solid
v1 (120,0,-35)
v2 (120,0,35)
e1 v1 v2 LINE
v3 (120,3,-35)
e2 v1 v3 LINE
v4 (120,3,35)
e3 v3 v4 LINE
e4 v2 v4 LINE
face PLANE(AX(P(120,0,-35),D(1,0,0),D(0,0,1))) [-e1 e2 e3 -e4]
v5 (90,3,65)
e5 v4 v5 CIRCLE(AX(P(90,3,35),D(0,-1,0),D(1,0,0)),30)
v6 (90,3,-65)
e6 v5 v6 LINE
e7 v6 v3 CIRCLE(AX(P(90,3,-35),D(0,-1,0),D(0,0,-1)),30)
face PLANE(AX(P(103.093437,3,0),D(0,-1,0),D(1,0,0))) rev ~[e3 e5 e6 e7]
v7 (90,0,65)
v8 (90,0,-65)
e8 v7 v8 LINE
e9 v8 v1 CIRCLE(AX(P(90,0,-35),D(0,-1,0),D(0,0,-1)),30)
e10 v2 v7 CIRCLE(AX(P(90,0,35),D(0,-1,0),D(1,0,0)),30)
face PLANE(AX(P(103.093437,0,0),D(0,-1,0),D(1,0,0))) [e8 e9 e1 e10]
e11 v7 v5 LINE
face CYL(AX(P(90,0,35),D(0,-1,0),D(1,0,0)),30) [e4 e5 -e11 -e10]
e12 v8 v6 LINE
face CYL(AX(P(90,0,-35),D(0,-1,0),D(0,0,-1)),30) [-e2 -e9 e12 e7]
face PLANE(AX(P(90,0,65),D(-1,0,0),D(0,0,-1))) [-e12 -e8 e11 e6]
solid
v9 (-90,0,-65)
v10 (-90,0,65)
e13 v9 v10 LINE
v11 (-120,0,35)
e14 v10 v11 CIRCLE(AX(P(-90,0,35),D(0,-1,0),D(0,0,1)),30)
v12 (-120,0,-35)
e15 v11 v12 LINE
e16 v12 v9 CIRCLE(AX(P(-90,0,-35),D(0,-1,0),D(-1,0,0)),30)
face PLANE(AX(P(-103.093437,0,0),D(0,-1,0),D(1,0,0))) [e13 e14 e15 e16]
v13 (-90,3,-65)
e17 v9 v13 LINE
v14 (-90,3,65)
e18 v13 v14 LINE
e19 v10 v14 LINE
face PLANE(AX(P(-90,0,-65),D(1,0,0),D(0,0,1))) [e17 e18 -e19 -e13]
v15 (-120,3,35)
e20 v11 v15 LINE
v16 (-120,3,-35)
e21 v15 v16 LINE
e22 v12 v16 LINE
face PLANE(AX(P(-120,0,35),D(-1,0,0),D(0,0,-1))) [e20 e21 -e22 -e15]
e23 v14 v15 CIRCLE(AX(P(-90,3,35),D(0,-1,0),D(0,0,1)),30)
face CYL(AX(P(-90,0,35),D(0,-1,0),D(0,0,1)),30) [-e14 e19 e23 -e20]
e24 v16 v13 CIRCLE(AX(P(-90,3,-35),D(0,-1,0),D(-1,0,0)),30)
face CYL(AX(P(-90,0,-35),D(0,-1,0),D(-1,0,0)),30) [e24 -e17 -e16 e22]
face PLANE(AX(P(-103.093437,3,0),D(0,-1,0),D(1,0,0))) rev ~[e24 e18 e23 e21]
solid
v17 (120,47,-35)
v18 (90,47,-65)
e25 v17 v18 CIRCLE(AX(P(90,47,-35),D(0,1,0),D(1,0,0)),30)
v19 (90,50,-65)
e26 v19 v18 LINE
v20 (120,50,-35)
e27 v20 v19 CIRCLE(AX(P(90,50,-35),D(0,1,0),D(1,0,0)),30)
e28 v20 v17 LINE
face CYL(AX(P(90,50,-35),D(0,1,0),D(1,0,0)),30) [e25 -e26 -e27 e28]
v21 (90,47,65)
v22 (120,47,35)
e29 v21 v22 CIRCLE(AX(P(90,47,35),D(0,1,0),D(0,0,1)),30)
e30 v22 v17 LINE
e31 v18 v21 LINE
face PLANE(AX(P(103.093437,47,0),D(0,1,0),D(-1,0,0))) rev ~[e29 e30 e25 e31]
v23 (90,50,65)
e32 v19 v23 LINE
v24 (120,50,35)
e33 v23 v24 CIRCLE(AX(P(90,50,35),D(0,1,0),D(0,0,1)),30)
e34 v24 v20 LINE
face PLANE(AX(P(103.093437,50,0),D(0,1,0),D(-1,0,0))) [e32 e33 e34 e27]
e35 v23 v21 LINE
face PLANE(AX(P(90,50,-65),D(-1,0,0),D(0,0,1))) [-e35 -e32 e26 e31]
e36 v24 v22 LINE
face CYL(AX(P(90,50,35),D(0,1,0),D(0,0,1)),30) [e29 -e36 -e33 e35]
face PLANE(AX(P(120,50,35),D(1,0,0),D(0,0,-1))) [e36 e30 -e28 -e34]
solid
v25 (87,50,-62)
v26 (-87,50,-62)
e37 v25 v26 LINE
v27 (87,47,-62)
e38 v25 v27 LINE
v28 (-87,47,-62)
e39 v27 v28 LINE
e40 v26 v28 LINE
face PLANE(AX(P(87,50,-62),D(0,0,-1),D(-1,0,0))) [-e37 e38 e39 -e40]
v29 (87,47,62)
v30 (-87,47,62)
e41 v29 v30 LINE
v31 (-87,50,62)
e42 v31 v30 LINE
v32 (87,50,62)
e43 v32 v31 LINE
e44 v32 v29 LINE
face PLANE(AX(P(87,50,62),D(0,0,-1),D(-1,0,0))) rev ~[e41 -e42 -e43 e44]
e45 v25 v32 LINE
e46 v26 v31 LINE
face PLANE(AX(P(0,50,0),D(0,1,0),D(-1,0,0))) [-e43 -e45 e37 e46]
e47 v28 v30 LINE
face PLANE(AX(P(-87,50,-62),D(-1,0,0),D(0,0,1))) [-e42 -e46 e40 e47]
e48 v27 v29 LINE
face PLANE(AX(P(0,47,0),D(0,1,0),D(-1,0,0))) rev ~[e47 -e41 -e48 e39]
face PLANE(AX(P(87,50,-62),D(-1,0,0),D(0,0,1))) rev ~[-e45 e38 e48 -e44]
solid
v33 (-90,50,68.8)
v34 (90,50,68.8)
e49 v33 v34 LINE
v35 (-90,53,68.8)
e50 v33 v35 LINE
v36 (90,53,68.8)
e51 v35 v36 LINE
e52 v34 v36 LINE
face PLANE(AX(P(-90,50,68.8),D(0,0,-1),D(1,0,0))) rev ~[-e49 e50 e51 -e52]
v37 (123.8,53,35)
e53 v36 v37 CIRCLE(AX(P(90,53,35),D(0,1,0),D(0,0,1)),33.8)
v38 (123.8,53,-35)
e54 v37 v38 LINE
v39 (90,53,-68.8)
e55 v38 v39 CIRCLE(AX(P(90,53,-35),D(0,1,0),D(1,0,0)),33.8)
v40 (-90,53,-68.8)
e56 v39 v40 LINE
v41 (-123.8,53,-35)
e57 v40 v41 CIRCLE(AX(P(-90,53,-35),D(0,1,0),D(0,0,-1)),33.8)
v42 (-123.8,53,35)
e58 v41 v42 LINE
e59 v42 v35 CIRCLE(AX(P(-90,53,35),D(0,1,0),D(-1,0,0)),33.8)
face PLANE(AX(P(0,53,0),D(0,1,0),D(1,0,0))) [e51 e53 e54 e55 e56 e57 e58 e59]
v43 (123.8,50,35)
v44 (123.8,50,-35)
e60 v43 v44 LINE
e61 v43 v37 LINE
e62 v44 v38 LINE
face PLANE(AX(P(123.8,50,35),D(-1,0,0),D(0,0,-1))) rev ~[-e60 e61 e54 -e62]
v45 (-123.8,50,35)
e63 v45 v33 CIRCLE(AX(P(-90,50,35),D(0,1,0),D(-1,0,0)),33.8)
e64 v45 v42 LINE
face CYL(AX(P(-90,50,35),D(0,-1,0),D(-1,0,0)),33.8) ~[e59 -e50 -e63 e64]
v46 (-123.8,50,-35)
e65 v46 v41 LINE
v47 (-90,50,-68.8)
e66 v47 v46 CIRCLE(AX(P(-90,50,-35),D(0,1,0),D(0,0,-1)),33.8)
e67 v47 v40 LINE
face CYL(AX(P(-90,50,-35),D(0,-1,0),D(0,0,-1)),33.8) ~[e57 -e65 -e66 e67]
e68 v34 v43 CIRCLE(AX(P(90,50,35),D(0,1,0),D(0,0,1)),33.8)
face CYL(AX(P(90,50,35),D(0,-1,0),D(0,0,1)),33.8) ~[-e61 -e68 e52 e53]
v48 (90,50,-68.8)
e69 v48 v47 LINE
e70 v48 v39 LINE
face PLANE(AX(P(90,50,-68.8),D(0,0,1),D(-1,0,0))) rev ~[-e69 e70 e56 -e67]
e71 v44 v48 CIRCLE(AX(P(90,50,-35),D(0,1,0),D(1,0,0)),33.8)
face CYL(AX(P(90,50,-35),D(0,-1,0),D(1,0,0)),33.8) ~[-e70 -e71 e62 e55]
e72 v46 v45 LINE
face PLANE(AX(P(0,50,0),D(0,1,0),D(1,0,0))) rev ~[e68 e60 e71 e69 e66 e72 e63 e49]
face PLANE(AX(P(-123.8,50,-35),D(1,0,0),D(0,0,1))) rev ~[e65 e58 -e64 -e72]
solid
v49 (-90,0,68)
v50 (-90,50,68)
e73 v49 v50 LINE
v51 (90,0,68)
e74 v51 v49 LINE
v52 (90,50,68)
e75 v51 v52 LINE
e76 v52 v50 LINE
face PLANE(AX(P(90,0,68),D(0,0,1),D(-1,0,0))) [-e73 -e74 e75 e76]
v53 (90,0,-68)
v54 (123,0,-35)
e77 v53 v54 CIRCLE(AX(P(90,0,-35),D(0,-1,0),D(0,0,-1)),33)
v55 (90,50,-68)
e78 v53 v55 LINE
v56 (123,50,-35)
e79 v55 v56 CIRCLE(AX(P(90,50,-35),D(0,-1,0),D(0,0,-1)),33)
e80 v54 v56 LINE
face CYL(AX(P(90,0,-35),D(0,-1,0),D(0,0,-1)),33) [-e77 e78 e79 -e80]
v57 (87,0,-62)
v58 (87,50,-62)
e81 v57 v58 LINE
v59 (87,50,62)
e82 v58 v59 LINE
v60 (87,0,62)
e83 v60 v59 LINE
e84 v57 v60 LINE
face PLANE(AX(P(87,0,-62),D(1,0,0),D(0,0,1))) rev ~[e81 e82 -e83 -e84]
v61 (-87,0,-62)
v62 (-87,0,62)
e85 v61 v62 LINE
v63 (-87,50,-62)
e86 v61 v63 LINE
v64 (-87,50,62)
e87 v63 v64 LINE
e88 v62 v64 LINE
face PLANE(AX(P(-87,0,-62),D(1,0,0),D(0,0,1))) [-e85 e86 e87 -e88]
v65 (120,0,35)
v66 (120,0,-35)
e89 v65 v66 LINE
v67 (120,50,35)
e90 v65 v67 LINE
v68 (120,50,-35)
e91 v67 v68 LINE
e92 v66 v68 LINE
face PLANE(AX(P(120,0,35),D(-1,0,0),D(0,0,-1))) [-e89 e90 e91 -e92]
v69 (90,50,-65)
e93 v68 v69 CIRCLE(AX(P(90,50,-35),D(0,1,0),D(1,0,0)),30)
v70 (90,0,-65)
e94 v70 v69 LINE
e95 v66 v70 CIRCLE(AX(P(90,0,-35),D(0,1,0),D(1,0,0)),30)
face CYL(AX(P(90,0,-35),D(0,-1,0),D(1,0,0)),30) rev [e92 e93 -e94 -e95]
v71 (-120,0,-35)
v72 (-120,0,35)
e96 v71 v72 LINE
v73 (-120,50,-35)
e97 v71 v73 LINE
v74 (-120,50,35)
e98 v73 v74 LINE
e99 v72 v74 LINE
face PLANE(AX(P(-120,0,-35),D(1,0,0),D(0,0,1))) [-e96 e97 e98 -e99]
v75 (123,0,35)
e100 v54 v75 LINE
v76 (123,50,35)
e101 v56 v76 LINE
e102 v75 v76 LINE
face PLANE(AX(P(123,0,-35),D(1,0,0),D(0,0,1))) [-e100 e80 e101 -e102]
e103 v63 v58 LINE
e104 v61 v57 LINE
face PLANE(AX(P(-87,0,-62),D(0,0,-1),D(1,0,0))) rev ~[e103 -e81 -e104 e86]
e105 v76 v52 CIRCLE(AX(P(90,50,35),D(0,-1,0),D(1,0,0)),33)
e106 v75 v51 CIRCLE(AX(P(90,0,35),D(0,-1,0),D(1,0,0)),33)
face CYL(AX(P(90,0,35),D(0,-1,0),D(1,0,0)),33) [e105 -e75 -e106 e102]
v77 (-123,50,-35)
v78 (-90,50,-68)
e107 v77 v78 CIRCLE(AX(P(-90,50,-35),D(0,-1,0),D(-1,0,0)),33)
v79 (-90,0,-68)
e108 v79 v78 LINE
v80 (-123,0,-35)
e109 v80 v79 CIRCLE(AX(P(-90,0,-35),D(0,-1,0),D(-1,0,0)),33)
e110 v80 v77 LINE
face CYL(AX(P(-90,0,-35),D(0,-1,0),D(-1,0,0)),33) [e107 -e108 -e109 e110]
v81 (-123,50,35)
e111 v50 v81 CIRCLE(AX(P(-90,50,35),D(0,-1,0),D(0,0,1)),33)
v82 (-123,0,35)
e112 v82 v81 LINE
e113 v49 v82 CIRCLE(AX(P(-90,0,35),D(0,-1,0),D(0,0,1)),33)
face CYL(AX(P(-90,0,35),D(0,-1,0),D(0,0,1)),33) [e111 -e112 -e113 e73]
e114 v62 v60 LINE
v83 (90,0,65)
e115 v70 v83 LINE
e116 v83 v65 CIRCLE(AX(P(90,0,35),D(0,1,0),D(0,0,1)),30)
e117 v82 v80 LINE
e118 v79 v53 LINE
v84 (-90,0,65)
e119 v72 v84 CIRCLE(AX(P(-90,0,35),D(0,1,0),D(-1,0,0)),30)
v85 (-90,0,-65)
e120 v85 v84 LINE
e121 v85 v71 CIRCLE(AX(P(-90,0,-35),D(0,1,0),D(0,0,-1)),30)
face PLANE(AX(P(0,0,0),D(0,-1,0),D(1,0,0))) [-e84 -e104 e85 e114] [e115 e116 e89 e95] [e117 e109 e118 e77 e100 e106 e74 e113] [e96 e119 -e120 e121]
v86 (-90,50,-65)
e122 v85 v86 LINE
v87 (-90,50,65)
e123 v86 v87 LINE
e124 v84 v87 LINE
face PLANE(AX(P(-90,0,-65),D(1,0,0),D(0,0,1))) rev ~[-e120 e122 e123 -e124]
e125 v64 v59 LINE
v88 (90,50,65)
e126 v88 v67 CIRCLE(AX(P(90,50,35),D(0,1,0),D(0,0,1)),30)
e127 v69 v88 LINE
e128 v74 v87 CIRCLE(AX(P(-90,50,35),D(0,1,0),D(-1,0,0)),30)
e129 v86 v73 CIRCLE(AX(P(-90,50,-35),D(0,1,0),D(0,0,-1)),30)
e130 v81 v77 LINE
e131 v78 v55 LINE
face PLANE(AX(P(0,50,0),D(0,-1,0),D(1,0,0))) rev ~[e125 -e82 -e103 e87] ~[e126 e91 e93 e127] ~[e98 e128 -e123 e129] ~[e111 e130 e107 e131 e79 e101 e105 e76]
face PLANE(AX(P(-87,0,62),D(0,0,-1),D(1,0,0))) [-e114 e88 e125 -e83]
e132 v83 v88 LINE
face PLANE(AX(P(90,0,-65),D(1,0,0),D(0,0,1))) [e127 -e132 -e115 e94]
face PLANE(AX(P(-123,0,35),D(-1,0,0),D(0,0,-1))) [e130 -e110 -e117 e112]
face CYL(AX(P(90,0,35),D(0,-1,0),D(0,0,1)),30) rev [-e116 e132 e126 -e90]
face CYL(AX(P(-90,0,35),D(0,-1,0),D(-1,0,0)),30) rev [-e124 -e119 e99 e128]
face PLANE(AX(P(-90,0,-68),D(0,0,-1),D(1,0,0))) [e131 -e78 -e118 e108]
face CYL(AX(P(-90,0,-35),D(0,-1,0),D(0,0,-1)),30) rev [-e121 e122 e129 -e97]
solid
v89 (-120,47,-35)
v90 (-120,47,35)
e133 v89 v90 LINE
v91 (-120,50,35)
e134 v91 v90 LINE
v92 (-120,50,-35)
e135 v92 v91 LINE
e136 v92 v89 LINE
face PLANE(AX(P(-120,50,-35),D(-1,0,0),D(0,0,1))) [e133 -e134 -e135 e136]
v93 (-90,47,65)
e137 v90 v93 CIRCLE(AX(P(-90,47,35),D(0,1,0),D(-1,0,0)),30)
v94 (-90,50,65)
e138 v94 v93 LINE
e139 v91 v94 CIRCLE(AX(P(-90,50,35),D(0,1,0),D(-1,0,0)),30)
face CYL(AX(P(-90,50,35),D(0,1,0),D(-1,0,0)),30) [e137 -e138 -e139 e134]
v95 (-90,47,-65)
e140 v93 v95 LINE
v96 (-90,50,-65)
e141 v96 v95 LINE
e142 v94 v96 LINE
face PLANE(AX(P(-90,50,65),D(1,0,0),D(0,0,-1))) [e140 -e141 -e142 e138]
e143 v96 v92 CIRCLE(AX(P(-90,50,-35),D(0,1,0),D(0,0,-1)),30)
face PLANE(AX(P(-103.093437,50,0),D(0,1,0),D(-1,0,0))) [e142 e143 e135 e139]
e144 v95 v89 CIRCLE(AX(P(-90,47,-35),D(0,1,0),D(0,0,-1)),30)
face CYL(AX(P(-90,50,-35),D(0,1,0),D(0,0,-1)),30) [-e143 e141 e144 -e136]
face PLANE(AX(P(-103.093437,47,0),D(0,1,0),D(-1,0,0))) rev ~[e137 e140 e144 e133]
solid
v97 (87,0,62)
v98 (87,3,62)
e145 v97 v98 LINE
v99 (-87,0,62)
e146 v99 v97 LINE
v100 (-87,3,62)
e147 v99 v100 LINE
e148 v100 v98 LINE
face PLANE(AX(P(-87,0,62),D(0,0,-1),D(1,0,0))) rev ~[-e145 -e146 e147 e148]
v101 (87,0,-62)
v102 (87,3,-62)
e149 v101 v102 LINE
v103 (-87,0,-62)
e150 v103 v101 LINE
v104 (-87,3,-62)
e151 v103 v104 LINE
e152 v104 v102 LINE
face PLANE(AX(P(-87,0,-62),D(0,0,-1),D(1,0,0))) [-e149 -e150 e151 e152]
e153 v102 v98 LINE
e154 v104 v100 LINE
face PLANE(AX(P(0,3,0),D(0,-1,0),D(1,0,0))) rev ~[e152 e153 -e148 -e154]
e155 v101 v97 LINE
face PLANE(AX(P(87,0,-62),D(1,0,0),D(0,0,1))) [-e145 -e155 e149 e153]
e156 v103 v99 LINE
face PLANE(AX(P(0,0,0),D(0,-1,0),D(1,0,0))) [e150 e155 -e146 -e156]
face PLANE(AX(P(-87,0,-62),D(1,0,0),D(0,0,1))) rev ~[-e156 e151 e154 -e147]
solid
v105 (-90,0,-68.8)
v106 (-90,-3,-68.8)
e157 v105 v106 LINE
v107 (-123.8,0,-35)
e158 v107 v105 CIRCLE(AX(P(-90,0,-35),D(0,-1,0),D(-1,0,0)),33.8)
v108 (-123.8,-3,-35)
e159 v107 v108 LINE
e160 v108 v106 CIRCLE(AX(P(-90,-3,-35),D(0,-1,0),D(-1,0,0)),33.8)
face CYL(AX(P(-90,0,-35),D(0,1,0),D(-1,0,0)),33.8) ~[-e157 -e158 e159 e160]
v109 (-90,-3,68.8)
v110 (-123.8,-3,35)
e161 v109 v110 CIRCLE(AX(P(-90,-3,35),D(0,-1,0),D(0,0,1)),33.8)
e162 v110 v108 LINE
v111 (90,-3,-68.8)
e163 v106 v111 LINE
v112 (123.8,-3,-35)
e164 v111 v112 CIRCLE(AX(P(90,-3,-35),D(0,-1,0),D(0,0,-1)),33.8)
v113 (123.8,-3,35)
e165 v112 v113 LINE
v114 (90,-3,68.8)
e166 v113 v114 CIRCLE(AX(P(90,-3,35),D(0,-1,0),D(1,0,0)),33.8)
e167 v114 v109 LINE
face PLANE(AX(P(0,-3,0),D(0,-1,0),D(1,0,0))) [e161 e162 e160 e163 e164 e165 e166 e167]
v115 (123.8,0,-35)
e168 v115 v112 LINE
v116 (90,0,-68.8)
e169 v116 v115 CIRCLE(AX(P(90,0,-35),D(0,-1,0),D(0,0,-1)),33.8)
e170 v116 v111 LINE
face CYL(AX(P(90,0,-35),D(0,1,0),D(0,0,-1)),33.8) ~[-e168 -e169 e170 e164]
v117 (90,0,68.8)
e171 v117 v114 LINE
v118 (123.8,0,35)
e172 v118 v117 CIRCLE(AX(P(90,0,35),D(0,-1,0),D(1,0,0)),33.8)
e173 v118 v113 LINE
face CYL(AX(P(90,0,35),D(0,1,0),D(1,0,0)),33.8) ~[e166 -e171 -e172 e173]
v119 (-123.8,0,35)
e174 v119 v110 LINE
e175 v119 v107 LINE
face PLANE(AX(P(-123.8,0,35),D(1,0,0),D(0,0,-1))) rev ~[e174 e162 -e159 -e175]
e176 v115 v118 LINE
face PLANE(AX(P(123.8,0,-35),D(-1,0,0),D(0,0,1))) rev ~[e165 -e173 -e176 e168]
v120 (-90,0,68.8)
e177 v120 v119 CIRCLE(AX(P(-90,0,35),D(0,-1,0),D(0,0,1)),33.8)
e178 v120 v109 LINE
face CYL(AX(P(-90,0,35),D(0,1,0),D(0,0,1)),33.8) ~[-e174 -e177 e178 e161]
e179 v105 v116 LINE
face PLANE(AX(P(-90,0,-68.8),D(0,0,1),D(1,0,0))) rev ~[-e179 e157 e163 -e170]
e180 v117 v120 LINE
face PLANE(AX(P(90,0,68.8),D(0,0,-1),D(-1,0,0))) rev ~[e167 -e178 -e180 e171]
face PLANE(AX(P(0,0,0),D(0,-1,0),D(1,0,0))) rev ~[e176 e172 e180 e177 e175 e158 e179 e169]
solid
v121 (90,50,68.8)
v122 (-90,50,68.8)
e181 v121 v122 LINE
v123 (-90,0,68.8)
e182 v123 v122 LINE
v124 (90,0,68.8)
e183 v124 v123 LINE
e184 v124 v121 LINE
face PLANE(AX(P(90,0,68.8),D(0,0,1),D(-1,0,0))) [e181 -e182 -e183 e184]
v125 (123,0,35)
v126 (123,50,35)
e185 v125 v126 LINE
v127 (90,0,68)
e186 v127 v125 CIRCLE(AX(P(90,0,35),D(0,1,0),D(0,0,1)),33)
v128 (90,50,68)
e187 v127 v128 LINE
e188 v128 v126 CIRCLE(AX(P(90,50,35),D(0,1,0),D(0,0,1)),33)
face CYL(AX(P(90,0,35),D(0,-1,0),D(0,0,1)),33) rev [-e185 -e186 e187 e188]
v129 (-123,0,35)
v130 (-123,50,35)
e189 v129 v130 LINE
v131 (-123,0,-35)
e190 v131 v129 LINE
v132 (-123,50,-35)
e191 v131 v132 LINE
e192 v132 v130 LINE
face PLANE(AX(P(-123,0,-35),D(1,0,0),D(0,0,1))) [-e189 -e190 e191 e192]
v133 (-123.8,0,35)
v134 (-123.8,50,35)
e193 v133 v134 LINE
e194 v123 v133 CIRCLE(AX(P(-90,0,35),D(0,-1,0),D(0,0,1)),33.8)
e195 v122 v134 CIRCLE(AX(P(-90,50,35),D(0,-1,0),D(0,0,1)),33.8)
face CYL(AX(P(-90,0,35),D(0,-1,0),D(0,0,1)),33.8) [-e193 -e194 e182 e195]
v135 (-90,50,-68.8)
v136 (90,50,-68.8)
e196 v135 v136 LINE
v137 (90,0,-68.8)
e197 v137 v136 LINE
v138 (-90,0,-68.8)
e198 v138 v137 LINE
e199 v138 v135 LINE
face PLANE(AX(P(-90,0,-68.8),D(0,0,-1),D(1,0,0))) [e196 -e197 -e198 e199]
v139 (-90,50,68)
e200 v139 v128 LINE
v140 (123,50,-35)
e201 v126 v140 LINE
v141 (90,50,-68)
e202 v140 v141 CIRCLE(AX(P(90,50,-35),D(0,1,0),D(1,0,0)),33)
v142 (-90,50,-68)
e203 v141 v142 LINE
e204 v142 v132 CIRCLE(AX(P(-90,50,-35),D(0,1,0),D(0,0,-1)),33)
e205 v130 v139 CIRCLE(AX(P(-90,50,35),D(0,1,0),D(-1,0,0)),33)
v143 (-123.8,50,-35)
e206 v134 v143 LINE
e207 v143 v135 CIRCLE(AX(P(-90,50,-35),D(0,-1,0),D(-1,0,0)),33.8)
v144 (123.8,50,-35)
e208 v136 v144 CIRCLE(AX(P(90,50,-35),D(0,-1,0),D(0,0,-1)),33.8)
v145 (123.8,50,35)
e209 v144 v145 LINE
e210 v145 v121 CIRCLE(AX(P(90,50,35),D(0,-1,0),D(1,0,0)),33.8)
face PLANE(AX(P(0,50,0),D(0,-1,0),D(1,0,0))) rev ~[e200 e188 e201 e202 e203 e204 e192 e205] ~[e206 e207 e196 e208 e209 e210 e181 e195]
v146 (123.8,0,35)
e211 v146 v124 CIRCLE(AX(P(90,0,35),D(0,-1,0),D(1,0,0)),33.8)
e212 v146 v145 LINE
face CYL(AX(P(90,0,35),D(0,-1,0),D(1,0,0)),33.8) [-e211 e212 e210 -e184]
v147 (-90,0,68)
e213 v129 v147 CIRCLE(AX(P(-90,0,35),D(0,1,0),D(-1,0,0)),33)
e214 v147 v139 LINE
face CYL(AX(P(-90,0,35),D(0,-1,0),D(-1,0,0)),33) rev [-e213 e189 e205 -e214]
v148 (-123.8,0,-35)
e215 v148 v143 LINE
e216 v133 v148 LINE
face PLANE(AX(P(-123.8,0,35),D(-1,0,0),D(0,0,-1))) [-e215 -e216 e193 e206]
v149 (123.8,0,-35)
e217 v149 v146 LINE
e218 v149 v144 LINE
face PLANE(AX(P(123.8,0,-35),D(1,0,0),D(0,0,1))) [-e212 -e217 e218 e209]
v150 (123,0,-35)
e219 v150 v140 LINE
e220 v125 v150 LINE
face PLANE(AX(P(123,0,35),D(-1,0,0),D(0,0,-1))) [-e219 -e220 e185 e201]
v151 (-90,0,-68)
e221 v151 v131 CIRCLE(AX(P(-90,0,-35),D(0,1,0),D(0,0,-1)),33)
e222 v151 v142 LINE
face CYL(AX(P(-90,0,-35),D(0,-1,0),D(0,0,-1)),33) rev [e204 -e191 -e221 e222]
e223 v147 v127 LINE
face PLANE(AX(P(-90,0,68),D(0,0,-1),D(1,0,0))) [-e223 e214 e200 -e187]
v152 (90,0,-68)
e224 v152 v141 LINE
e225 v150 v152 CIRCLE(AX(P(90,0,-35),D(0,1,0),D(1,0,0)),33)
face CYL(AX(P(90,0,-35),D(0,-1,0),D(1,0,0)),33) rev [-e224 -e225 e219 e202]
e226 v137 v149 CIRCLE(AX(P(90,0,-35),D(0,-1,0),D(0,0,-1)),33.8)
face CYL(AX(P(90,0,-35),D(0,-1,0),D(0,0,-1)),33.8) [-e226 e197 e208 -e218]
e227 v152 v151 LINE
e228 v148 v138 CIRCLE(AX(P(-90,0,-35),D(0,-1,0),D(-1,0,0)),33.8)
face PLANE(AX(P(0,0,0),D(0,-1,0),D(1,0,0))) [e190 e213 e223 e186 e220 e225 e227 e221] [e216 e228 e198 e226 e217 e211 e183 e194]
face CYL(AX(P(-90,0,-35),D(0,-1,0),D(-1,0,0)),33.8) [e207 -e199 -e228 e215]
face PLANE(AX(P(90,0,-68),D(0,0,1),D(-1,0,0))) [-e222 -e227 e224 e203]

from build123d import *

# Parameters (mm, degrees)
F0_W     = 180
F0_H     = 130
F0_W_2   = 174
F0_H_2   = 124
F1_DEPTH = 50
F2_DEPTH = 3
F3_DEPTH = 3
F4_DEPTH = 50
F5_W     = 174
F5_H     = 124
F6_DEPTH = 3
F7_DEPTH = 3


with BuildPart() as f1:
    # F0 (on Front) → F1 (new body)
    with BuildSketch(Plane.XZ):
        with BuildLine():
            ThreePointArc((-90, 68), (-113.3345237792, 58.3345237792), (-123, 35))
            Line((-123, 35), (-123, -35))
            ThreePointArc((-123, -35), (-113.3345237792, -58.3345237792), (-90, -68))
            Line((-90, -68), (90, -68))
            ThreePointArc((90, -68), (113.3345237792, -58.3345237792), (123, -35))
            Line((123, -35), (123, 35))
            ThreePointArc((123, 35), (113.3345237792, 58.3345237792), (90, 68))
            Line((90, 68), (-90, 68))
        make_face()
        with BuildLine():
            Line((-90, 65), (90, 65))
            ThreePointArc((90, 65), (111.2132034356, 56.2132034356), (120, 35))
            Line((120, 35), (120, -35))
            ThreePointArc((120, -35), (111.2132034356, -56.2132034356), (90, -65))
            Line((90, -65), (-90, -65))
            ThreePointArc((-90, -65), (-111.2132034356, -56.2132034356), (-120, -35))
            Line((-120, -35), (-120, 35))
            ThreePointArc((-120, 35), (-111.2132034356, 56.2132034356), (-90, 65))
        make_face(mode=Mode.SUBTRACT)
        Rectangle(F0_W, F0_H)
        Rectangle(F0_W_2, F0_H_2, mode=Mode.SUBTRACT)
    extrude(amount=-F1_DEPTH)


with BuildPart() as f2:
    # F0 (on Front) → F2 (new body)
    with BuildSketch(Plane.XZ):
        Rectangle(F0_W_2, F0_H_2)
    extrude(amount=-F2_DEPTH)


with BuildPart() as f2b:
    # F0 (on Front) → F2, piece 2 (new body)
    with BuildSketch(Plane.XZ):
        with BuildLine():
            Line((-90, -65), (-90, 65))
            ThreePointArc((-90, 65), (-111.2132034356, 56.2132034356), (-120, 35))
            Line((-120, 35), (-120, -35))
            ThreePointArc((-120, -35), (-111.2132034356, -56.2132034356), (-90, -65))
        make_face()
    extrude(amount=-F2_DEPTH)


with BuildPart() as f2c:
    # F0 (on Front) → F2, piece 3 (new body)
    with BuildSketch(Plane.XZ):
        with BuildLine():
            ThreePointArc((120, 35), (111.2132034356, 56.2132034356), (90, 65))
            Line((90, 65), (90, -65))
            ThreePointArc((90, -65), (111.2132034356, -56.2132034356), (120, -35))
            Line((120, -35), (120, 35))
        make_face()
    extrude(amount=-F2_DEPTH)


with BuildPart() as f3:
    # F0 (on Front) → F3 (new body)
    with BuildSketch(Plane.XZ):
        with BuildLine():
            ThreePointArc((123.8, 35), (113.9002092041, 58.9002092041), (90, 68.8))
            Line((90, 68.8), (-90, 68.8))
            ThreePointArc((-90, 68.8), (-113.9002092041, 58.9002092041), (-123.8, 35))
            Line((-123.8, 35), (-123.8, -35))
            ThreePointArc((-123.8, -35), (-113.9002092041, -58.9002092041), (-90, -68.8))
            Line((-90, -68.8), (90, -68.8))
            ThreePointArc((90, -68.8), (113.9002092041, -58.9002092041), (123.8, -35))
            Line((123.8, -35), (123.8, 35))
        make_face()
        with BuildLine():
            Line((-123, -35), (-123, 35))
            ThreePointArc((-123, 35), (-113.3345237792, 58.3345237792), (-90, 68))
            Line((-90, 68), (90, 68))
            ThreePointArc((90, 68), (113.3345237792, 58.3345237792), (123, 35))
            Line((123, 35), (123, -35))
            ThreePointArc((123, -35), (113.3345237792, -58.3345237792), (90, -68))
            Line((90, -68), (-90, -68))
            ThreePointArc((-90, -68), (-113.3345237792, -58.3345237792), (-123, -35))
        make_face(mode=Mode.SUBTRACT)
        with BuildLine():
            ThreePointArc((-90, 68), (-113.3345237792, 58.3345237792), (-123, 35))
            Line((-123, 35), (-123, -35))
            ThreePointArc((-123, -35), (-113.3345237792, -58.3345237792), (-90, -68))
            Line((-90, -68), (90, -68))
            ThreePointArc((90, -68), (113.3345237792, -58.3345237792), (123, -35))
            Line((123, -35), (123, 35))
            ThreePointArc((123, 35), (113.3345237792, 58.3345237792), (90, 68))
            Line((90, 68), (-90, 68))
        make_face()
        with BuildLine():
            Line((-90, 65), (90, 65))
            ThreePointArc((90, 65), (111.2132034356, 56.2132034356), (120, 35))
            Line((120, 35), (120, -35))
            ThreePointArc((120, -35), (111.2132034356, -56.2132034356), (90, -65))
            Line((90, -65), (-90, -65))
            ThreePointArc((-90, -65), (-111.2132034356, -56.2132034356), (-120, -35))
            Line((-120, -35), (-120, 35))
            ThreePointArc((-120, 35), (-111.2132034356, 56.2132034356), (-90, 65))
        make_face(mode=Mode.SUBTRACT)
        Rectangle(F0_W, F0_H)
        Rectangle(F0_W_2, F0_H_2, mode=Mode.SUBTRACT)
        Rectangle(F0_W_2, F0_H_2)
        with BuildLine():
            Line((-90, -65), (-90, 65))
            ThreePointArc((-90, 65), (-111.2132034356, 56.2132034356), (-120, 35))
            Line((-120, 35), (-120, -35))
            ThreePointArc((-120, -35), (-111.2132034356, -56.2132034356), (-90, -65))
        make_face()
        with BuildLine():
            ThreePointArc((120, 35), (111.2132034356, 56.2132034356), (90, 65))
            Line((90, 65), (90, -65))
            ThreePointArc((90, -65), (111.2132034356, -56.2132034356), (120, -35))
            Line((120, -35), (120, 35))
        make_face()
    extrude(amount=F3_DEPTH)


with BuildPart() as f4:
    # F0 (on Front) → F4 (new body)
    with BuildSketch(Plane.XZ):
        with BuildLine():
            ThreePointArc((123.8, 35), (113.9002092041, 58.9002092041), (90, 68.8))
            Line((90, 68.8), (-90, 68.8))
            ThreePointArc((-90, 68.8), (-113.9002092041, 58.9002092041), (-123.8, 35))
            Line((-123.8, 35), (-123.8, -35))
            ThreePointArc((-123.8, -35), (-113.9002092041, -58.9002092041), (-90, -68.8))
            Line((-90, -68.8), (90, -68.8))
            ThreePointArc((90, -68.8), (113.9002092041, -58.9002092041), (123.8, -35))
            Line((123.8, -35), (123.8, 35))
        make_face()
        with BuildLine():
            Line((-123, -35), (-123, 35))
            ThreePointArc((-123, 35), (-113.3345237792, 58.3345237792), (-90, 68))
            Line((-90, 68), (90, 68))
            ThreePointArc((90, 68), (113.3345237792, 58.3345237792), (123, 35))
            Line((123, 35), (123, -35))
            ThreePointArc((123, -35), (113.3345237792, -58.3345237792), (90, -68))
            Line((90, -68), (-90, -68))
            ThreePointArc((-90, -68), (-113.3345237792, -58.3345237792), (-123, -35))
        make_face(mode=Mode.SUBTRACT)
    extrude(amount=-F4_DEPTH)


with BuildPart() as f6:
    # F5 (on face) → F6 (new body)
    with BuildSketch(Plane(origin=(0, 50, 0), x_dir=(-1, 0, 0), z_dir=(0, 1, 0))):
        Rectangle(F5_W, F5_H)
    extrude(amount=-F6_DEPTH)


with BuildPart() as f6b:
    # F5 (on face) → F6, piece 2 (new body)
    with BuildSketch(Plane(origin=(0, 50, 0), x_dir=(-1, 0, 0), z_dir=(0, 1, 0))):
        with BuildLine():
            ThreePointArc((120, 35), (111.2132034356, 56.2132034356), (90, 65))
            Line((90, 65), (90, -65))
            ThreePointArc((90, -65), (111.2132034356, -56.2132034356), (120, -35))
            Line((120, -35), (120, 35))
        make_face()
    extrude(amount=-F6_DEPTH)


with BuildPart() as f6c:
    # F5 (on face) → F6, piece 3 (new body)
    with BuildSketch(Plane(origin=(0, 50, 0), x_dir=(-1, 0, 0), z_dir=(0, 1, 0))):
        with BuildLine():
            ThreePointArc((-90, 65), (-111.2132034356, 56.2132034356), (-120, 35))
            Line((-120, 35), (-120, -35))
            ThreePointArc((-120, -35), (-111.2132034356, -56.2132034356), (-90, -65))
            Line((-90, -65), (-90, 65))
        make_face()
    extrude(amount=-F6_DEPTH)


with BuildPart() as f7:
    # F5 (on face) + F4_face (on face) → F7 (new body)
    with BuildSketch(Plane(origin=(0, 50, 0), x_dir=(-1, 0, 0), z_dir=(0, 1, 0))):
        with BuildLine():
            Line((123, -35), (123, 35))
            ThreePointArc((123, 35), (113.3345237792, 58.3345237792), (90, 68))
            Line((90, 68), (-90, 68))
            ThreePointArc((-90, 68), (-113.3345237792, 58.3345237792), (-123, 35))
            Line((-123, 35), (-123, -35))
            ThreePointArc((-123, -35), (-113.3345237792, -58.3345237792), (-90, -68))
            Line((-90, -68), (90, -68))
            ThreePointArc((90, -68), (113.3345237792, -58.3345237792), (123, -35))
        make_face()
        with BuildLine():
            Line((-120, -35), (-120, 35))
            ThreePointArc((-120, 35), (-111.2132034356, 56.2132034356), (-90, 65))
            Line((-90, 65), (-90, -65))
            ThreePointArc((-90, -65), (-111.2132034356, -56.2132034356), (-120, -35))
        make_face(mode=Mode.SUBTRACT)
        Rectangle(F5_W, F5_H, mode=Mode.SUBTRACT)
        with BuildLine():
            Line((90, -65), (90, 65))
            ThreePointArc((90, 65), (111.2132034356, 56.2132034356), (120, 35))
            Line((120, 35), (120, -35))
            ThreePointArc((120, -35), (111.2132034356, -56.2132034356), (90, -65))
        make_face(mode=Mode.SUBTRACT)
        Rectangle(F5_W, F5_H)
        with BuildLine():
            ThreePointArc((-90, 65), (-111.2132034356, 56.2132034356), (-120, 35))
            Line((-120, 35), (-120, -35))
            ThreePointArc((-120, -35), (-111.2132034356, -56.2132034356), (-90, -65))
            Line((-90, -65), (-90, 65))
        make_face()
        with BuildLine():
            ThreePointArc((120, 35), (111.2132034356, 56.2132034356), (90, 65))
            Line((90, 65), (90, -65))
            ThreePointArc((90, -65), (111.2132034356, -56.2132034356), (120, -35))
            Line((120, -35), (120, 35))
        make_face()
    with BuildSketch(Plane(origin=(0, 50, 0), x_dir=(1, 0, 0), z_dir=(0, 1, 0))):
        with BuildLine():
            ThreePointArc((90, -68.8), (113.9002092041, -58.9002092041), (123.8, -35))
            Line((123.8, -35), (123.8, 35))
            ThreePointArc((123.8, 35), (113.9002092041, 58.9002092041), (90, 68.8))
            Line((90, 68.8), (-90, 68.8))
            ThreePointArc((-90, 68.8), (-113.9002092041, 58.9002092041), (-123.8, 35))
            Line((-123.8, 35), (-123.8, -35))
            ThreePointArc((-123.8, -35), (-113.9002092041, -58.9002092041), (-90, -68.8))
            Line((-90, -68.8), (90, -68.8))
        make_face()
        with BuildLine():
            Line((-123, -35), (-123, 35))
            ThreePointArc((-123, 35), (-113.3345237792, 58.3345237792), (-90, 68))
            Line((-90, 68), (90, 68))
            ThreePointArc((90, 68), (113.3345237792, 58.3345237792), (123, 35))
            Line((123, 35), (123, -35))
            ThreePointArc((123, -35), (113.3345237792, -58.3345237792), (90, -68))
            Line((90, -68), (-90, -68))
            ThreePointArc((-90, -68), (-113.3345237792, -58.3345237792), (-123, -35))
        make_face(mode=Mode.SUBTRACT)
    extrude(amount=F7_DEPTH)


solid = Compound([f1.part, f2.part, f2b.part, f2c.part, f3.part, f4.part, f6.part, f6b.part, f6c.part, f7.part])
